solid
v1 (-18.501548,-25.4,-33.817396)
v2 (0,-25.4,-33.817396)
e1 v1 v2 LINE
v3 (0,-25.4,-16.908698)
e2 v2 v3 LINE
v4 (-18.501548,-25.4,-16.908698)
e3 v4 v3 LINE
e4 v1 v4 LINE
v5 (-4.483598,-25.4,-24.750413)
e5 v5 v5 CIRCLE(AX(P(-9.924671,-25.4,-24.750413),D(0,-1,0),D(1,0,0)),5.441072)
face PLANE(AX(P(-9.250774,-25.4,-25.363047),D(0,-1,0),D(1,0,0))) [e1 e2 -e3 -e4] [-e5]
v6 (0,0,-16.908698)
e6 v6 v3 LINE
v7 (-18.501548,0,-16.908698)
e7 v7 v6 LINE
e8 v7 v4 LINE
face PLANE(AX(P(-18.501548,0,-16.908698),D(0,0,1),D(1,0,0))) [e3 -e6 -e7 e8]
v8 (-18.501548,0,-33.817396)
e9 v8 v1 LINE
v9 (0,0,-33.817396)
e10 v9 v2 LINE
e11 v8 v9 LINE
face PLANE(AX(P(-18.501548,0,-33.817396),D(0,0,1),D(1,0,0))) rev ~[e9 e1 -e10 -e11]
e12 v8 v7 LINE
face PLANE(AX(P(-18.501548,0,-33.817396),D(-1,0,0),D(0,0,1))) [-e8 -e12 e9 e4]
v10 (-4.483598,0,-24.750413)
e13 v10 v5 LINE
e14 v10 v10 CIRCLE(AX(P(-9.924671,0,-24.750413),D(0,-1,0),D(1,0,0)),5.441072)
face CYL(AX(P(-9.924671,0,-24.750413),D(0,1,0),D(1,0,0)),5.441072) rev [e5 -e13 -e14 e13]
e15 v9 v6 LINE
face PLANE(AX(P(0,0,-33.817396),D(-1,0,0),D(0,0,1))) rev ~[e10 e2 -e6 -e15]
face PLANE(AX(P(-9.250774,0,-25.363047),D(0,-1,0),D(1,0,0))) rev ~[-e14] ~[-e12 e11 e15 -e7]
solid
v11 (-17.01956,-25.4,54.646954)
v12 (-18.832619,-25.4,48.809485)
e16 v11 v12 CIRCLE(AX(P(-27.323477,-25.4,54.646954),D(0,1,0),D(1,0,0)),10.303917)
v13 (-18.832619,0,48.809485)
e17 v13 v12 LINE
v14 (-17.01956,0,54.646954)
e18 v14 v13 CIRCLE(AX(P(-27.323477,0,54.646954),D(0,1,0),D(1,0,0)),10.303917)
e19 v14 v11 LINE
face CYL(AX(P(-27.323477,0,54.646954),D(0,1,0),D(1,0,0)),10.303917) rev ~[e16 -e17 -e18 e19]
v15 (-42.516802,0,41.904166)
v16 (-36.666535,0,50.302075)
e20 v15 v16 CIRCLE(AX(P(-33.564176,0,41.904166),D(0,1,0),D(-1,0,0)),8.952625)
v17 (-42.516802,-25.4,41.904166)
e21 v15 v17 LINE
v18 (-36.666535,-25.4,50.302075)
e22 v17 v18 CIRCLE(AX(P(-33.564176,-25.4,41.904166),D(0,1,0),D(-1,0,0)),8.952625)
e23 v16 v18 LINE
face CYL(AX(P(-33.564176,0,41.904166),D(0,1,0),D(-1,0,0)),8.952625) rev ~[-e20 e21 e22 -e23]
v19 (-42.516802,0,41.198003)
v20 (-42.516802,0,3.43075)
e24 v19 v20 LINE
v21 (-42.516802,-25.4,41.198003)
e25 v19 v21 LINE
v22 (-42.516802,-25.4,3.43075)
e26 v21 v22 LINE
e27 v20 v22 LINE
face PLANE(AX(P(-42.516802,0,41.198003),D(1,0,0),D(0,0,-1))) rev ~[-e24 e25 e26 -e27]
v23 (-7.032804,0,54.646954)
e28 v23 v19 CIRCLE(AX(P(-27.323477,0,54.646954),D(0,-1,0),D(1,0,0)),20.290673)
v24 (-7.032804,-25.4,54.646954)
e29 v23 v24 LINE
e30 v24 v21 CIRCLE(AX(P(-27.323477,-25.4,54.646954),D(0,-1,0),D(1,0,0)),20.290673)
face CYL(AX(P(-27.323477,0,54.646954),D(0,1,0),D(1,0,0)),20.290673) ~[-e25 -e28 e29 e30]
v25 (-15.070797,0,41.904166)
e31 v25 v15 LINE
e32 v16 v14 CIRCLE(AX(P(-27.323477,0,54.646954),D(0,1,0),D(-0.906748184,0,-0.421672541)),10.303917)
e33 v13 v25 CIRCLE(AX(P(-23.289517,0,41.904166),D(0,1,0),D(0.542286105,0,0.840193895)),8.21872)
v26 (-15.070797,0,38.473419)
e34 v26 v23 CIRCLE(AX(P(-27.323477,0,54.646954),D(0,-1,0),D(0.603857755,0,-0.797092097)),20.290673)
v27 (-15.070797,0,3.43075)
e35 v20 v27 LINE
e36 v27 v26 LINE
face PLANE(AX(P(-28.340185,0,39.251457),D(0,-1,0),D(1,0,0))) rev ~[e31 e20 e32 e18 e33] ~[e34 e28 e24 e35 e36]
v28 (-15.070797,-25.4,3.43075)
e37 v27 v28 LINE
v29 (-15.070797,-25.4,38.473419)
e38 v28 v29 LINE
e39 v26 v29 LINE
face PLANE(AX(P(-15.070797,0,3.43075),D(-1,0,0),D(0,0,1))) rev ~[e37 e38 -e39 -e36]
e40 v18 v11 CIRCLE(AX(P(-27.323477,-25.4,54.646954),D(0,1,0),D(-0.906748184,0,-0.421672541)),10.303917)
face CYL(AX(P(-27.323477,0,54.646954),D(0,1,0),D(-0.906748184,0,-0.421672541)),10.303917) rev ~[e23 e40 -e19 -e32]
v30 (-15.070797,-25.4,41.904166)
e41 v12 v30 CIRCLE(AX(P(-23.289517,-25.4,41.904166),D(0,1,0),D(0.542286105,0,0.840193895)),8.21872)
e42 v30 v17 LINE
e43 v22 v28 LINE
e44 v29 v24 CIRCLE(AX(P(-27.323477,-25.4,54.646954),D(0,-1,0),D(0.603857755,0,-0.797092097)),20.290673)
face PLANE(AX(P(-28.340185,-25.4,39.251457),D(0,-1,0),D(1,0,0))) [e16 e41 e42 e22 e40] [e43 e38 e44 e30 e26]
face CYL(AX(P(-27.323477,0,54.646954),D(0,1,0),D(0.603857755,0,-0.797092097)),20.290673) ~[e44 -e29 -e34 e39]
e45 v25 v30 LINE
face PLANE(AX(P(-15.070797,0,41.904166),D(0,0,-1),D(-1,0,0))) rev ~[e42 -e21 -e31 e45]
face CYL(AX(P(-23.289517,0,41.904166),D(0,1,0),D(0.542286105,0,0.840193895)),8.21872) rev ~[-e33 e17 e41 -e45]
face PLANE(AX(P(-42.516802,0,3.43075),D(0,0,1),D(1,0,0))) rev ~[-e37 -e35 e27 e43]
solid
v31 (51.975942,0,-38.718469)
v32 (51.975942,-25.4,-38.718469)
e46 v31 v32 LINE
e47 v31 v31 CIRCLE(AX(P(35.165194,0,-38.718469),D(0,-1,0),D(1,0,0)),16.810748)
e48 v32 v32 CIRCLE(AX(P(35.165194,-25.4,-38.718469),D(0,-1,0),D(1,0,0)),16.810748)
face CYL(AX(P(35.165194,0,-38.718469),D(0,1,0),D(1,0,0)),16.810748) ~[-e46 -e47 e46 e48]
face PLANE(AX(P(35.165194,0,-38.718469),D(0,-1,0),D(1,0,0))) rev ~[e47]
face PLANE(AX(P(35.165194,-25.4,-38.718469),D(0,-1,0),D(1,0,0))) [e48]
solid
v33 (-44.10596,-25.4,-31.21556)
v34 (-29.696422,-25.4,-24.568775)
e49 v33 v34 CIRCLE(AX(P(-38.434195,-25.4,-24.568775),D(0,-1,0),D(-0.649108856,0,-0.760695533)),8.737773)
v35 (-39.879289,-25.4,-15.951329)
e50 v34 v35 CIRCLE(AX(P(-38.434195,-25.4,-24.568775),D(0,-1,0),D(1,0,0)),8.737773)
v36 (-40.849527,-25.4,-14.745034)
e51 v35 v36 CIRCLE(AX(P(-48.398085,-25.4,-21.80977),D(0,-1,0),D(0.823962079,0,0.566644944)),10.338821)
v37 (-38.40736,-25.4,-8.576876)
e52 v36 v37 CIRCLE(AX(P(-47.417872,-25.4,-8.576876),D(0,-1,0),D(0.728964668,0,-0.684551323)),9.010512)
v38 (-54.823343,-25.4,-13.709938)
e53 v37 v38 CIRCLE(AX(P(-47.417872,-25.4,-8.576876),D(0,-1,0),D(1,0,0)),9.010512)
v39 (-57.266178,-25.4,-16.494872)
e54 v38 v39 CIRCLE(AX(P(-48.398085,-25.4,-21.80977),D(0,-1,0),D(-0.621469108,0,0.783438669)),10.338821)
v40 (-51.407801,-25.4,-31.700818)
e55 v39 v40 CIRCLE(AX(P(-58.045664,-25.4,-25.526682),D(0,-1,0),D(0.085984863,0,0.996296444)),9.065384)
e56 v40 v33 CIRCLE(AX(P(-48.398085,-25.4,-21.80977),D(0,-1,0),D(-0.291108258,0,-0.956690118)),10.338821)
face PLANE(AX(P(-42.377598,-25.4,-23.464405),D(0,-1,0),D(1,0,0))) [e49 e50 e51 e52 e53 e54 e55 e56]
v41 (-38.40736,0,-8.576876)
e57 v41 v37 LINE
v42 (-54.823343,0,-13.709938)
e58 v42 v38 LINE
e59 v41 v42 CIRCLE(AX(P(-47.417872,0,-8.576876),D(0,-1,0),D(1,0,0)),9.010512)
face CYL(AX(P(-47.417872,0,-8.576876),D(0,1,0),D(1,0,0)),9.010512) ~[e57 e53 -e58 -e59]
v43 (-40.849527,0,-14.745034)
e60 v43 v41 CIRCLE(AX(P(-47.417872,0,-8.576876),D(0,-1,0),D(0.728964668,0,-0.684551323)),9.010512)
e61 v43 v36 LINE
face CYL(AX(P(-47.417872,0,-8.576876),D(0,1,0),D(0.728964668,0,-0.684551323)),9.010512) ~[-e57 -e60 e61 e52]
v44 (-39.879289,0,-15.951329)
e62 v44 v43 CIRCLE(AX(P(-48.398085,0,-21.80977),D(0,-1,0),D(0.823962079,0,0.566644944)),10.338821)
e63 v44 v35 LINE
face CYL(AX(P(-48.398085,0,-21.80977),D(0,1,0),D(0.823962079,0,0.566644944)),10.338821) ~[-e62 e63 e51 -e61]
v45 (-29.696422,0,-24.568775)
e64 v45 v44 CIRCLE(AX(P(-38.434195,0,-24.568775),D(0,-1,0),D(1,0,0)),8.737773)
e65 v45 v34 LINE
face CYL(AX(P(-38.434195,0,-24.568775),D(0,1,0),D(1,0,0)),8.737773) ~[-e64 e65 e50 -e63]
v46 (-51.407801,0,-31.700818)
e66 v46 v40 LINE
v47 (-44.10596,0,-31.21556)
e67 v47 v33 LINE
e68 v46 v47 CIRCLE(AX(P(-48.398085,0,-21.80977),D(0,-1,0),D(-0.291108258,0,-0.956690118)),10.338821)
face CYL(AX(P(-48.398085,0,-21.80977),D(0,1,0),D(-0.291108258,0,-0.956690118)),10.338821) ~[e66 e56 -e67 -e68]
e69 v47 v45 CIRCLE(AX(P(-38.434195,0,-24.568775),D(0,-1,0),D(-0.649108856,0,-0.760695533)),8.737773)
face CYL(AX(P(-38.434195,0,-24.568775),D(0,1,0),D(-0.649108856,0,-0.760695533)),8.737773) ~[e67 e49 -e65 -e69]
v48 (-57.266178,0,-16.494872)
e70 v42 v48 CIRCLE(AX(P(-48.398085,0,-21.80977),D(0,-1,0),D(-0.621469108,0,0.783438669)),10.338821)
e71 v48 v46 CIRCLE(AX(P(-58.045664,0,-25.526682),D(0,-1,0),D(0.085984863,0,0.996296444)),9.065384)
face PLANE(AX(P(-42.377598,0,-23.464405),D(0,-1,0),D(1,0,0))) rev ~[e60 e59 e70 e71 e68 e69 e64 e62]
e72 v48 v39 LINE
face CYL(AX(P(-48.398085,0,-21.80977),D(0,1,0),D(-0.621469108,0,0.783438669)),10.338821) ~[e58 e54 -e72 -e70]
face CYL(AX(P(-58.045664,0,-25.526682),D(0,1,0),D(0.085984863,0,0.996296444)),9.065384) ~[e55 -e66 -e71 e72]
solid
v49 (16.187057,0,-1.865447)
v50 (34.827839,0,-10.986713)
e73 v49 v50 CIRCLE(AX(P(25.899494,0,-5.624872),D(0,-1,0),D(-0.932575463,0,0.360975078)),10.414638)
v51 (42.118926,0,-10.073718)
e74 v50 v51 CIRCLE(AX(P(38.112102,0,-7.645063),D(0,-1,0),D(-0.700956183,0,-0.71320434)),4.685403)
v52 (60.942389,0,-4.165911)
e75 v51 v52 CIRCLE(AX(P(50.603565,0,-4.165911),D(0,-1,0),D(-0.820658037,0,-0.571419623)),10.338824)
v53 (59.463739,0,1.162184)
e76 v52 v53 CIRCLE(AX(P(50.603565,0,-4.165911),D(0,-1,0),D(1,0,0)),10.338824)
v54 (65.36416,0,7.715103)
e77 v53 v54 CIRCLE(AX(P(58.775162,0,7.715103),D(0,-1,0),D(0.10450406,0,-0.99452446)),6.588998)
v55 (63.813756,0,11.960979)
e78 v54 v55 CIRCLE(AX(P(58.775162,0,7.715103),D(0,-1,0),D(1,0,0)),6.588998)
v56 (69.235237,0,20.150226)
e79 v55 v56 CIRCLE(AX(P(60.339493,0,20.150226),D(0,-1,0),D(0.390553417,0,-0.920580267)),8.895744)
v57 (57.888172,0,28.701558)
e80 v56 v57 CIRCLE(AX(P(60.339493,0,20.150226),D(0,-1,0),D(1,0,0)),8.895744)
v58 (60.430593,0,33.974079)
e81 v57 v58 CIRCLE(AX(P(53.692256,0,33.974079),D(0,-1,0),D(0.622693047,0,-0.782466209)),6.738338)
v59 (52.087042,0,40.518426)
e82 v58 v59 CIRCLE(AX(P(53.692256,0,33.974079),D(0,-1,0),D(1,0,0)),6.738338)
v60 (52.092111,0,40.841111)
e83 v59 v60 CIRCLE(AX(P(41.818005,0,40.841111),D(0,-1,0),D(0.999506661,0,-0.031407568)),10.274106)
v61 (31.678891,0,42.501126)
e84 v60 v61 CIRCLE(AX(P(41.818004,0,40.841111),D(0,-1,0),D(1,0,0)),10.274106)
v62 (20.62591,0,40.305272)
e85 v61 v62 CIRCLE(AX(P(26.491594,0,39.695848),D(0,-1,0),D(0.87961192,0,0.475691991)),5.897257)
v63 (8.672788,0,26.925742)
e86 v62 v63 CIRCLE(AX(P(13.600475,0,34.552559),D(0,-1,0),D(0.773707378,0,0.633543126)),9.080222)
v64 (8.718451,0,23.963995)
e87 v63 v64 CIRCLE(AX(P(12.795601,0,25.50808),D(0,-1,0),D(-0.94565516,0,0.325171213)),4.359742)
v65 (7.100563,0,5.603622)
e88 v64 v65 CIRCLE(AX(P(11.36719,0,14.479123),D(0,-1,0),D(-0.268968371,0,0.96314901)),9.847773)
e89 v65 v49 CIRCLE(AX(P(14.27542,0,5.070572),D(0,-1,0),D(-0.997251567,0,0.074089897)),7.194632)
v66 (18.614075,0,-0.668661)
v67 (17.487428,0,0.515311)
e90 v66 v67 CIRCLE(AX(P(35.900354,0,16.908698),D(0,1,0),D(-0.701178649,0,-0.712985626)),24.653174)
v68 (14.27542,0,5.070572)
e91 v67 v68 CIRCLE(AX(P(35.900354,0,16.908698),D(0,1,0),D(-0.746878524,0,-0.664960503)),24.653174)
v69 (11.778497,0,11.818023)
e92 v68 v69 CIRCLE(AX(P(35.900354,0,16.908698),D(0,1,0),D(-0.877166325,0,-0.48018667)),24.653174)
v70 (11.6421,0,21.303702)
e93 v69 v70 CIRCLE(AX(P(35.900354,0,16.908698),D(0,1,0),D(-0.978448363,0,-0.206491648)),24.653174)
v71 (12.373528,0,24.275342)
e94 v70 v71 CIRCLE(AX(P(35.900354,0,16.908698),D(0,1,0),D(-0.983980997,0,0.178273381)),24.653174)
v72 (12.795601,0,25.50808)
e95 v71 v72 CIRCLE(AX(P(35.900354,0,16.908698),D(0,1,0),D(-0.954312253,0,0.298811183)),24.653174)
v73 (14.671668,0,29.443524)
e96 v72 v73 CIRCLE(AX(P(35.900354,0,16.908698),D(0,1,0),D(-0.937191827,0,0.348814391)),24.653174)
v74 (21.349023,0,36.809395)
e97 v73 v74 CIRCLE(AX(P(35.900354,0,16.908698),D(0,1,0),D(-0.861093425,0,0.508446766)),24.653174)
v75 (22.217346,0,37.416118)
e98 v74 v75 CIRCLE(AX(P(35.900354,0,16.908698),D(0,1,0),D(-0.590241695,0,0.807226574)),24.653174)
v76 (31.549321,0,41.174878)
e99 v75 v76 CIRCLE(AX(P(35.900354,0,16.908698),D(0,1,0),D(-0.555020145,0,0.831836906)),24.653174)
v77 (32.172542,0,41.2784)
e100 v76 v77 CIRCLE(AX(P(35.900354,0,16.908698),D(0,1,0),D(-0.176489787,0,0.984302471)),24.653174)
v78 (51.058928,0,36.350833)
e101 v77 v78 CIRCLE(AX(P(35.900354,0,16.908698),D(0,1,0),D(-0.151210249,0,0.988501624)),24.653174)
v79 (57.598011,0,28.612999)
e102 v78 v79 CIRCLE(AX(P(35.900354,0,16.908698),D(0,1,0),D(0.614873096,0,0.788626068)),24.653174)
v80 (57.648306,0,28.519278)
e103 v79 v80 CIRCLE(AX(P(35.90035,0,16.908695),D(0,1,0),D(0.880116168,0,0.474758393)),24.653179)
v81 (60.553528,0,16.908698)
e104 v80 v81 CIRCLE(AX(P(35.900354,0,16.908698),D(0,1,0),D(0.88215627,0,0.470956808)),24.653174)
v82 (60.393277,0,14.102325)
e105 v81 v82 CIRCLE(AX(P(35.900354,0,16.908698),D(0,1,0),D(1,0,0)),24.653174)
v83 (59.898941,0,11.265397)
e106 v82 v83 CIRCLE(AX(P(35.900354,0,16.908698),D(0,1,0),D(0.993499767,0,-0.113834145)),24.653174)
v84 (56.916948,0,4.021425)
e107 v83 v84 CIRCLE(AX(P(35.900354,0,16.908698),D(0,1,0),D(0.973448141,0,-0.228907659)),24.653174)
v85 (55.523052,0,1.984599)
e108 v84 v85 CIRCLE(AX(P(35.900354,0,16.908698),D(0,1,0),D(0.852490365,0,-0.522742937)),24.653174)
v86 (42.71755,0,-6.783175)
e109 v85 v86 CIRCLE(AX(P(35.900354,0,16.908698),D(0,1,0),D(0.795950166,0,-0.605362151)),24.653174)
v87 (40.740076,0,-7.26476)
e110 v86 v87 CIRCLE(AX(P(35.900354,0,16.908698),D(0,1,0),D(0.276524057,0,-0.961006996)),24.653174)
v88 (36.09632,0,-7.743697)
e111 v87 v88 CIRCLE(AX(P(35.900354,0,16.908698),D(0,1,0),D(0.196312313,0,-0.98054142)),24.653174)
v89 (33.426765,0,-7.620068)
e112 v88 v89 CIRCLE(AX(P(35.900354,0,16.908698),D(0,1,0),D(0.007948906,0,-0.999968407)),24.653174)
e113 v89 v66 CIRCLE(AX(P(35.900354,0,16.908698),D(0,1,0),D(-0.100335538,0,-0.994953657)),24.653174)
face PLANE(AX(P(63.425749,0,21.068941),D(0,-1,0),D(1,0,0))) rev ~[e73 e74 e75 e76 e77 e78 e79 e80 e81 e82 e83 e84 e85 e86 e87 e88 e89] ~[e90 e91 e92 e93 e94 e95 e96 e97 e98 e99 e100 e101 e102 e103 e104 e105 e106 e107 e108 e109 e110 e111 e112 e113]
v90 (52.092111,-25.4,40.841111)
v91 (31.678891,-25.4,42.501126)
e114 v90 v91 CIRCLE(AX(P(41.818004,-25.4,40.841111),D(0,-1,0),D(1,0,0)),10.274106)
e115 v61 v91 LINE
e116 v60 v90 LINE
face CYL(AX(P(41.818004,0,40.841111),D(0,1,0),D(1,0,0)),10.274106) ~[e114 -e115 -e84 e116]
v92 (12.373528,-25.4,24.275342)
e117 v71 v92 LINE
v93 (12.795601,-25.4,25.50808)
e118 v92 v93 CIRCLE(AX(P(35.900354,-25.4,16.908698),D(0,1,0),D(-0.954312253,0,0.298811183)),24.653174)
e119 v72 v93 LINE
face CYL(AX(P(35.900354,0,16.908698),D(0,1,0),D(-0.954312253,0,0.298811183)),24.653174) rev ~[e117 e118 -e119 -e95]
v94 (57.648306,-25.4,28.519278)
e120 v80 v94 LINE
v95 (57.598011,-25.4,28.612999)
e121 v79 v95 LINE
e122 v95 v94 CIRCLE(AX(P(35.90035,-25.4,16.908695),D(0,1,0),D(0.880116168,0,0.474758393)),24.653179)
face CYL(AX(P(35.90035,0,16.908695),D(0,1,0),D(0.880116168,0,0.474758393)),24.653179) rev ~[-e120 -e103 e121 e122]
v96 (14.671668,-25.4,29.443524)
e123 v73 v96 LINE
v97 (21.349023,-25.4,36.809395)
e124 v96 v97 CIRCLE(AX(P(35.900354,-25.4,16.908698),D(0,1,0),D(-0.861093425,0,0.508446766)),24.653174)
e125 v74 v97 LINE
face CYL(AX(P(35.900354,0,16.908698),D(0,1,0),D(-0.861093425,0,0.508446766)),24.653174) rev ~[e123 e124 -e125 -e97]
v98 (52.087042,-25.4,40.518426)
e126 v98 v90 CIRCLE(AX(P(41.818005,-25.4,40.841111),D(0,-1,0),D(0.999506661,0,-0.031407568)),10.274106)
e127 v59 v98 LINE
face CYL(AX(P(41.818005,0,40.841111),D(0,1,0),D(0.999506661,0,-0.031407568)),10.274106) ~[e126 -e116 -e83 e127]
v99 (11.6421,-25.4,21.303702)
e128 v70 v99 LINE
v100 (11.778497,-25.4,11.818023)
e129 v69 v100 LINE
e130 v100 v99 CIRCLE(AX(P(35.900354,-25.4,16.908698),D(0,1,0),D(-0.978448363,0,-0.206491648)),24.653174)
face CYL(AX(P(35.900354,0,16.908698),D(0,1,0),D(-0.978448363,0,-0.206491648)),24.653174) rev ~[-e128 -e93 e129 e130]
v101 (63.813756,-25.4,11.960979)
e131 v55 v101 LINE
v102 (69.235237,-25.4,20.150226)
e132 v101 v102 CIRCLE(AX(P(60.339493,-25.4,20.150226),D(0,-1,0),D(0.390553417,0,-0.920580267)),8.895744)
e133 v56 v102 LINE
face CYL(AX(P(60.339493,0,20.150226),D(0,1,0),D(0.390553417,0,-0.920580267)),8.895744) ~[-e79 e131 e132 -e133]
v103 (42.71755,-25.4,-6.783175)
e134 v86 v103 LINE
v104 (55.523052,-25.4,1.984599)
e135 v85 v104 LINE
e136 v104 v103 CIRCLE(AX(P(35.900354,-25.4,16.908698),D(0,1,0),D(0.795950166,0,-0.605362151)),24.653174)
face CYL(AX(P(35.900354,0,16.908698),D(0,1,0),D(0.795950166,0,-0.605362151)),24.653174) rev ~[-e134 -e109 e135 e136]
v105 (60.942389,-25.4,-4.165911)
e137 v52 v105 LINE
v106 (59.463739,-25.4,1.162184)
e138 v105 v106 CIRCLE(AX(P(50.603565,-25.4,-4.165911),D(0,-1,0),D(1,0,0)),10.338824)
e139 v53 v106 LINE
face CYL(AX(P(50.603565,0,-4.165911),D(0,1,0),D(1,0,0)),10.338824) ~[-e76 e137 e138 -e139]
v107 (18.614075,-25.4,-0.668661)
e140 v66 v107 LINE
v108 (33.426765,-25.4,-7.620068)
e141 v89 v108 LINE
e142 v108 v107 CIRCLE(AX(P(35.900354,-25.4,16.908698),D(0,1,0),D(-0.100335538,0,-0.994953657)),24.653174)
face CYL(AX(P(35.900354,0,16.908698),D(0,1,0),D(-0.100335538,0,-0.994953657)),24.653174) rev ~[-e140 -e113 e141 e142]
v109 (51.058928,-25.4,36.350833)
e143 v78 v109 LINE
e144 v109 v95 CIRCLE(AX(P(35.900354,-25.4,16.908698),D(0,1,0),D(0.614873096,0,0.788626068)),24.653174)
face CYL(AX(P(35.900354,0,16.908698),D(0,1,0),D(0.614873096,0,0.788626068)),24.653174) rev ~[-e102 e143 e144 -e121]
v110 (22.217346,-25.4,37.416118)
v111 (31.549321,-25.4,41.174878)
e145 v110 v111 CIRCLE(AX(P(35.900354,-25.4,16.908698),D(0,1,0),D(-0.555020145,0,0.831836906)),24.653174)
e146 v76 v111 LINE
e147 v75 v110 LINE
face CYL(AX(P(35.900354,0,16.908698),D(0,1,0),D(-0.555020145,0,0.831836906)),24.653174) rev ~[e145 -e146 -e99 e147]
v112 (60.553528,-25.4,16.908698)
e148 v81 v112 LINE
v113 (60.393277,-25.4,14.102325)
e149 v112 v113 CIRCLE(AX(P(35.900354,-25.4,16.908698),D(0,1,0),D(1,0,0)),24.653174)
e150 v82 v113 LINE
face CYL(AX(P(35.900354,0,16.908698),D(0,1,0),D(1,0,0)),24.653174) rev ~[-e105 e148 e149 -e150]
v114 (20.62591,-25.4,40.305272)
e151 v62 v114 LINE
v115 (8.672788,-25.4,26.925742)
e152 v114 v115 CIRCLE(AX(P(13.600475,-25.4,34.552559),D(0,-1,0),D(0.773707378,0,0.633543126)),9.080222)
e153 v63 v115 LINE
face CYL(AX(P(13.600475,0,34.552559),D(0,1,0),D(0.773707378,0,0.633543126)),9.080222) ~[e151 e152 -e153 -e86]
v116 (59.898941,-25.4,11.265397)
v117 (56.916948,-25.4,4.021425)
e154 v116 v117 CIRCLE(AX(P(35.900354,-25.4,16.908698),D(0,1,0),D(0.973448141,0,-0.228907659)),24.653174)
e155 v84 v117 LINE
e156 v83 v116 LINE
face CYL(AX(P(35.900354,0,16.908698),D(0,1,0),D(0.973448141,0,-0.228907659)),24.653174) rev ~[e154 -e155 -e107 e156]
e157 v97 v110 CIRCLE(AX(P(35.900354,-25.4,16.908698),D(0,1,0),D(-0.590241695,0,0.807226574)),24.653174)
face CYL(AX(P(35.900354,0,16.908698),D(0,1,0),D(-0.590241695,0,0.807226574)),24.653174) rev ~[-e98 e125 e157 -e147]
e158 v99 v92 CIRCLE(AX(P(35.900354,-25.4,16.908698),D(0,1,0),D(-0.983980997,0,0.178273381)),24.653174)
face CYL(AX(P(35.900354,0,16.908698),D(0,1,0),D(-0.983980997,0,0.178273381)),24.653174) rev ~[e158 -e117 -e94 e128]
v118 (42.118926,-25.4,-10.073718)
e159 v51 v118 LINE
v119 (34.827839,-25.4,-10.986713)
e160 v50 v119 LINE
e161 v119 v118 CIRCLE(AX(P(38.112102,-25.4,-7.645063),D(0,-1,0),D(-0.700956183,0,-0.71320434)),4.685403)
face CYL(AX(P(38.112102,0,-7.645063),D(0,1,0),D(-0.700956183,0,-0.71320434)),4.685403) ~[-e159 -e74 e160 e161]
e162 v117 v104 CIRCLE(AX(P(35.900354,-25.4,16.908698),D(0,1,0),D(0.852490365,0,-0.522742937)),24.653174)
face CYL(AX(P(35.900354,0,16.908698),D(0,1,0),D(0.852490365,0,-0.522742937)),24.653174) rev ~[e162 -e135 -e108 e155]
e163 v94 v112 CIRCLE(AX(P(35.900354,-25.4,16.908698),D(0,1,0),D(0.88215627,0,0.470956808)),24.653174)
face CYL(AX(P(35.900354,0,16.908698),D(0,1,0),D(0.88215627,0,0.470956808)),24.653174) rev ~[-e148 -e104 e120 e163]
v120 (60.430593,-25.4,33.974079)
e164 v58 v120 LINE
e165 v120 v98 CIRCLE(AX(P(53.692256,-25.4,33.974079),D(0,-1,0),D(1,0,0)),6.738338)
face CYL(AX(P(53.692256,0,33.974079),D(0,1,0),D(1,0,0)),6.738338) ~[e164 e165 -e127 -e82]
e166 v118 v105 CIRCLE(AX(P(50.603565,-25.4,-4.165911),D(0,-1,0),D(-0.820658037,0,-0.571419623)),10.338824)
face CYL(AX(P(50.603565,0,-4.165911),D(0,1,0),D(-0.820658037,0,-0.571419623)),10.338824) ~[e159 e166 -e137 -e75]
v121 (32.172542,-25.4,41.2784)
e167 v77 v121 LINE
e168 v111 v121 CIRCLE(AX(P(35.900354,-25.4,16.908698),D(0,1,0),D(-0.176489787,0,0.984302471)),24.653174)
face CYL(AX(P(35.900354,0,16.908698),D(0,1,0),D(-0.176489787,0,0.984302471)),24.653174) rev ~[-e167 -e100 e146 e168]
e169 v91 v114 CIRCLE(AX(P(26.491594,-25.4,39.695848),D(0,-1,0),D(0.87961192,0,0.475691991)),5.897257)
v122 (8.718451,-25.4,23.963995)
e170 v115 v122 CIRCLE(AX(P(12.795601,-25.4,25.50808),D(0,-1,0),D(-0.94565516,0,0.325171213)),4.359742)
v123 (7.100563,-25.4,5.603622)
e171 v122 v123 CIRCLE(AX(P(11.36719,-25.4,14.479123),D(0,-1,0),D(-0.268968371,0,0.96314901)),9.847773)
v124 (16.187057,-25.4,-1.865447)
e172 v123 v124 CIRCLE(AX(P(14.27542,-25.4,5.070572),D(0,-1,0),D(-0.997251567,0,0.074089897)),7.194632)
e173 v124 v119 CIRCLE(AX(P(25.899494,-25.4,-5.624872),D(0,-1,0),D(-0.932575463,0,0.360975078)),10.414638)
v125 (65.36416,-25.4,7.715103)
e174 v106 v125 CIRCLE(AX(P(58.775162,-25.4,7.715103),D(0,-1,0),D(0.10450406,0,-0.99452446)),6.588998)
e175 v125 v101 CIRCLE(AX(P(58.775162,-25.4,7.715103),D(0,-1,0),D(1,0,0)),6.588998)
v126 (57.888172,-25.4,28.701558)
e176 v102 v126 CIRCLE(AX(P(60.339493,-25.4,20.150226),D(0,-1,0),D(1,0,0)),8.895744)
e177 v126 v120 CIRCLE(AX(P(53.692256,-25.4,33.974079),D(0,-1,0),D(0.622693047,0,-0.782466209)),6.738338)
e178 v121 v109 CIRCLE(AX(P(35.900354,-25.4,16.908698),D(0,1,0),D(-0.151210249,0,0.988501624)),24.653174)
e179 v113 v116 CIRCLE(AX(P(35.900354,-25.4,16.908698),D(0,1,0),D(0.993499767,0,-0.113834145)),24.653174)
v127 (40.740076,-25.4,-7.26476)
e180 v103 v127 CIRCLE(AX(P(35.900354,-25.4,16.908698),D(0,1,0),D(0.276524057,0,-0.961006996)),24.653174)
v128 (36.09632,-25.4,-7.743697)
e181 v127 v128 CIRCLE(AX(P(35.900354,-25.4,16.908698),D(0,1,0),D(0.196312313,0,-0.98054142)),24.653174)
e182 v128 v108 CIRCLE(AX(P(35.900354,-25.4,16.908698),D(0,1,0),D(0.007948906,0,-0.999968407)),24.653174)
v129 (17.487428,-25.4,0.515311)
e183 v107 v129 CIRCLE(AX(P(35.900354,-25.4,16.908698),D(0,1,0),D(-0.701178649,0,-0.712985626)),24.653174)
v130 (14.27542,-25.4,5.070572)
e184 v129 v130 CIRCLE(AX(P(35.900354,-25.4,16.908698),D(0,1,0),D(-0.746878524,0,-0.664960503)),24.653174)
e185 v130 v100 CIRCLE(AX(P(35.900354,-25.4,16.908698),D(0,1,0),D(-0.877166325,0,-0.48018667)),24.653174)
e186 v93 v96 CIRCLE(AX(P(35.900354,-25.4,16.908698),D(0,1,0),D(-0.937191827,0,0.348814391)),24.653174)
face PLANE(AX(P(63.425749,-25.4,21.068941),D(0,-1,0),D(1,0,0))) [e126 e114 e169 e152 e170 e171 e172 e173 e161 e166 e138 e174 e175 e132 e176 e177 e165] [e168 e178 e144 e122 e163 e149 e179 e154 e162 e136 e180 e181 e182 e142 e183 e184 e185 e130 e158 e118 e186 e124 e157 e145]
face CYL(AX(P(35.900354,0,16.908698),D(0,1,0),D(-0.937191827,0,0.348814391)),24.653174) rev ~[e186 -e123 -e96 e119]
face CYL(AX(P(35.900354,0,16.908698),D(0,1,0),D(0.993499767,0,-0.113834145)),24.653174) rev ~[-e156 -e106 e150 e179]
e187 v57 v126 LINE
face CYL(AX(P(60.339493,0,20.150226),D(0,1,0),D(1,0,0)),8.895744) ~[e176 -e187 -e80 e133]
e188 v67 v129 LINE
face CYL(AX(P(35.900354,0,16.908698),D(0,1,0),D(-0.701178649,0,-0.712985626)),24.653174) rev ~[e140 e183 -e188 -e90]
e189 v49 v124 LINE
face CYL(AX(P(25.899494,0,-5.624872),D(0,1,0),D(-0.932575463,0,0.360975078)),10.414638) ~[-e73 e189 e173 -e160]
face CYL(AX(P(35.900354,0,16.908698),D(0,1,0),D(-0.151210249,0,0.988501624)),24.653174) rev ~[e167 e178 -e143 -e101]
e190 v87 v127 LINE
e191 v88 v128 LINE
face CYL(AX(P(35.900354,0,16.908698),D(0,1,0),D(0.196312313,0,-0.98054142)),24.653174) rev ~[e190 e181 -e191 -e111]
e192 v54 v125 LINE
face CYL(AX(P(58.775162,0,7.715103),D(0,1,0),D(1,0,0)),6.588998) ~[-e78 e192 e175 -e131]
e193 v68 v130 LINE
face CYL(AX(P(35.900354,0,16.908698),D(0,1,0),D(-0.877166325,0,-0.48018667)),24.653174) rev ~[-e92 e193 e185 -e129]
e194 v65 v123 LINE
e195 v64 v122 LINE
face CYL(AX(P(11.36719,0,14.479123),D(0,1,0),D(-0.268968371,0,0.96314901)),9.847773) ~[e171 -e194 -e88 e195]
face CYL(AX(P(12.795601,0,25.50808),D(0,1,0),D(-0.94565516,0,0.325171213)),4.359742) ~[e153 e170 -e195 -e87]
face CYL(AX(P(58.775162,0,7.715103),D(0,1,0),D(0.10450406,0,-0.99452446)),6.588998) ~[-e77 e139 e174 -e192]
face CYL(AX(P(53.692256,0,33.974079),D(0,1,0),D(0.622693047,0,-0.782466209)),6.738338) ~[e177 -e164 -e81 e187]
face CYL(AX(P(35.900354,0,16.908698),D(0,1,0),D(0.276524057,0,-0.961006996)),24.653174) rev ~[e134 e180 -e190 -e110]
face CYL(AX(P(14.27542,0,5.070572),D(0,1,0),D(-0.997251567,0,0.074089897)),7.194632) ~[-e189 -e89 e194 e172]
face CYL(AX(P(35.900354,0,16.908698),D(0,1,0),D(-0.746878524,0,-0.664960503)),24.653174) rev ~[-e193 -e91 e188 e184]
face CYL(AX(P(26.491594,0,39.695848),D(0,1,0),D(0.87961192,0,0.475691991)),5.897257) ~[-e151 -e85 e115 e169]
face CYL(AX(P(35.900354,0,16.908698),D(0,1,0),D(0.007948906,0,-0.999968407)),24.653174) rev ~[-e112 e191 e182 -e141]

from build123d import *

# Parameters (mm, degrees)
F1_DEPTH = 25.4
F0_W     = 18.5015480965
F0_H     = 16.9086977839
F0_R     = 5.4410723948
F0_R_2   = 16.8107477908


with BuildPart() as f1:
    # F0 (on Front) → F1 (new body)
    with BuildSketch(Plane.XZ):
        with BuildLine():
            ThreePointArc((-44.105960391, -31.2155596656), (-39.701340636, -27.4006422459), (-38.0592641048, -21.8097697943))
            ThreePointArc((-38.0592641048, -21.8097697943), (-38.5247490039, -18.7424495054), (-39.8792886329, -15.9513292394))
            ThreePointArc((-39.8792886329, -15.9513292394), (-46.8550976629, -22.2370236132), (-44.105960391, -31.2155596656))
        make_face()
        with BuildLine():
            ThreePointArc((-39.8792886329, -15.9513292394), (-38.5247490039, -18.7424495054), (-38.0592641048, -21.8097697943))
            ThreePointArc((-38.0592641048, -21.8097697943), (-39.701340636, -27.4006422459), (-44.105960391, -31.2155596656))
            ThreePointArc((-44.105960391, -31.2155596656), (-34.7742718917, -32.5031076851), (-29.6964222745, -24.5687751098))
            ThreePointArc((-29.6964222745, -24.5687751098), (-32.7896501946, -17.8988586822), (-39.8792886329, -15.9513292394))
        make_face()
        with BuildLine():
            ThreePointArc((-44.105960391, -31.2155596656), (-46.8550976629, -22.2370236132), (-39.8792886329, -15.9513292394))
            ThreePointArc((-39.8792886329, -15.9513292394), (-40.3417982851, -15.3299965274), (-40.8495270544, -14.7450341232))
            ThreePointArc((-40.8495270544, -14.7450341232), (-48.083492635, -17.5627692138), (-54.8233426971, -13.709937761))
            ThreePointArc((-54.8233426971, -13.709937761), (-56.1705113302, -14.9921012619), (-57.2661782927, -16.4948721947))
            ThreePointArc((-57.2661782927, -16.4948721947), (-51.3655623816, -19.3982706429), (-48.9802804829, -25.5266816069))
            ThreePointArc((-48.9802804829, -25.5266816069), (-49.6089599176, -28.8437891732), (-51.4078010658, -31.7008175177))
            ThreePointArc((-51.4078010658, -31.7008175177), (-47.7125109929, -32.1258351585), (-44.105960391, -31.2155596656))
        make_face()
        with BuildLine():
            ThreePointArc((-54.8233426971, -13.709937761), (-48.083492635, -17.5627692138), (-40.8495270544, -14.7450341232))
            ThreePointArc((-40.8495270544, -14.7450341232), (-47.6343396192, -11.4991970983), (-54.8233426971, -13.709937761))
        make_face()
        with BuildLine():
            ThreePointArc((-54.8233426971, -13.709937761), (-47.6343396192, -11.4991970983), (-40.8495270544, -14.7450341232))
            ThreePointArc((-40.8495270544, -14.7450341232), (-39.0401194284, -11.8938912699), (-38.4073600457, -8.5768764839))
            ThreePointArc((-38.4073600457, -8.5768764839), (-50.1069455323, 0.0230189296), (-54.8233426971, -13.709937761))
        make_face()
        with BuildLine():
            ThreePointArc((-57.2661782927, -16.4948721947), (-66.5049464666, -28.7857797019), (-51.4078010658, -31.7008175177))
            ThreePointArc((-51.4078010658, -31.7008175177), (-58.0456640551, -25.5266816069), (-57.2661782927, -16.4948721947))
        make_face()
        with BuildLine():
            ThreePointArc((-57.2661782927, -16.4948721947), (-58.0456640551, -25.5266816069), (-51.4078010658, -31.7008175177))
            ThreePointArc((-51.4078010658, -31.7008175177), (-49.6089599176, -28.8437891732), (-48.9802804829, -25.5266816069))
            ThreePointArc((-48.9802804829, -25.5266816069), (-51.3655623816, -19.3982706429), (-57.2661782927, -16.4948721947))
        make_face()
    extrude(amount=F1_DEPTH)


with BuildPart() as f1b:
    # F0 (on Front) → F1, piece 2 (new body)
    with BuildSketch(Plane.XZ):
        with BuildLine():
            Line((-15.0707969442, 41.9041663408), (-42.5168015063, 41.9041663408))
            Line((-42.5168015063, 41.9041663408), (-42.5168015063, 41.1980028544))
            ThreePointArc((-42.5168015063, 41.1980028544), (-29.3278937528, 34.4555273158), (-15.0707969442, 38.4734191396))
            Line((-15.0707969442, 38.4734191396), (-15.0707969442, 41.9041663408))
        make_face()
        with BuildLine():
            Line((-42.5168015063, 41.1980028544), (-42.5168015063, 41.9041663408))
            ThreePointArc((-42.5168015063, 41.9041663408), (-40.910051081, 47.0215506819), (-36.6665349653, 50.3020750911))
            ThreePointArc((-36.6665349653, 50.3020750911), (-29.5484051816, 64.7077888644), (-17.0195600007, 54.6469539404))
            ThreePointArc((-17.0195600007, 54.6469539404), (-17.4832585843, 51.5906805508), (-18.8326194536, 48.809485007))
            ThreePointArc((-18.8326194536, 48.809485007), (-16.0722684703, 45.8359195908), (-15.0707969442, 41.9041663408))
            Line((-15.0707969442, 41.9041663408), (-15.0707969442, 38.4734191396))
            ThreePointArc((-15.0707969442, 38.4734191396), (-9.1530818862, 45.6165531595), (-7.0328043403, 54.6469539404))
            ThreePointArc((-7.0328043403, 54.6469539404), (-34.5147432513, 73.6205430855), (-42.5168015063, 41.1980028544))
        make_face()
        with BuildLine():
            ThreePointArc((-15.0707969442, 38.4734191396), (-29.3278937528, 34.4555273158), (-42.5168015063, 41.1980028544))
            Line((-42.5168015063, 41.1980028544), (-42.5168015063, 3.4307504538))
            Line((-42.5168015063, 3.4307504538), (-15.0707969442, 3.4307504538))
            Line((-15.0707969442, 3.4307504538), (-15.0707969442, 38.4734191396))
        make_face()
    extrude(amount=F1_DEPTH)


with BuildPart() as f1c:
    # F0 (on Front) → F1, piece 3 (new body)
    with BuildSketch(Plane.XZ):
        with BuildLine():
            ThreePointArc((57.6483064262, 28.5192779382), (59.8161967898, 22.8929664588), (60.55352841, 16.9086977839))
            ThreePointArc((60.55352841, 16.9086977839), (60.5134329623, 15.5032254597), (60.3932770401, 14.1023248017))
            ThreePointArc((60.3932770401, 14.1023248017), (62.2714862871, 13.2999587282), (63.8137559237, 11.9609793934))
            ThreePointArc((63.8137559237, 11.9609793934), (67.7570534198, 15.2396195477), (69.2352365393, 20.1502255256))
            ThreePointArc((69.2352365393, 20.1502255256), (65.6933667008, 27.2544700874), (57.8881716099, 28.7015576243))
            ThreePointArc((57.8881716099, 28.7015576243), (57.7692578437, 28.6090770898), (57.6483064262, 28.5192779382))
        make_face()
        with BuildLine():
            ThreePointArc((57.5980114218, 28.612999071), (57.6232094679, 28.5661656287), (57.6483064262, 28.5192779382))
            ThreePointArc((57.6483064262, 28.5192779382), (57.7692578437, 28.6090770898), (57.8881716099, 28.7015576243))
            ThreePointArc((57.8881716099, 28.7015576243), (57.7427139718, 28.6585153627), (57.5980114218, 28.612999071))
        make_face()
        with BuildLine():
            ThreePointArc((63.8137559237, 11.9609793934), (62.2714862871, 13.2999587282), (60.3932770401, 14.1023248017))
            ThreePointArc((60.3932770401, 14.1023248017), (60.1875660933, 12.6766371815), (59.898940815, 11.2653974313))
            ThreePointArc((59.898940815, 11.2653974313), (61.8957091687, 11.3916613164), (63.8137559237, 11.9609793934))
        make_face()
        with BuildLine():
            ThreePointArc((51.0589278362, 36.35083348), (54.7302229927, 32.8214297216), (57.5980114218, 28.612999071))
            ThreePointArc((57.5980114218, 28.612999071), (57.7427139718, 28.6585153627), (57.8881716099, 28.7015576243))
            ThreePointArc((57.8881716099, 28.7015576243), (59.7617981113, 31.0473321559), (60.4305932211, 33.9740790737))
            ThreePointArc((60.4305932211, 33.9740790737), (57.8509045854, 39.2760440121), (52.0870420266, 40.5184264284))
            ThreePointArc((52.0870420266, 40.5184264284), (51.7930659491, 38.3803376037), (51.0589278362, 36.35083348))
        make_face()
        with BuildLine():
            ThreePointArc((63.8137559237, 11.9609793934), (61.8957091687, 11.3916613164), (59.898940815, 11.2653974313))
            ThreePointArc((59.898940815, 11.2653974313), (58.6975117824, 7.5242103658), (56.9169477045, 4.0214251963))
            ThreePointArc((56.9169477045, 4.0214251963), (58.323864183, 2.7107346584), (59.4637388064, 1.1621838822))
            ThreePointArc((59.4637388064, 1.1621838822), (63.6716873797, 3.3061432275), (65.3641596788, 7.7151034662))
            ThreePointArc((65.3641596788, 7.7151034662), (64.9644339318, 9.9751484986), (63.8137559237, 11.9609793934))
        make_face()
        with BuildLine():
            ThreePointArc((48.4070297685, 38.1539810334), (49.7623287591, 37.2955723838), (51.0589278362, 36.35083348))
            ThreePointArc((51.0589278362, 36.35083348), (51.7930659491, 38.3803376037), (52.0870420266, 40.5184264284))
            ThreePointArc((52.0870420266, 40.5184264284), (50.0498402913, 39.6431180923), (48.4070297685, 38.1539810334))
        make_face()
        with BuildLine():
            ThreePointArc((59.4637388064, 1.1621838822), (58.323864183, 2.7107346584), (56.9169477045, 4.0214251963))
            ThreePointArc((56.9169477045, 4.0214251963), (56.2455052486, 2.9855578421), (55.5230523371, 1.9845993326))
            ThreePointArc((55.5230523371, 1.9845993326), (57.4290501922, 1.26507424), (59.4637388064, 1.1621838822))
        make_face()
        with BuildLine():
            ThreePointArc((32.1725417924, 41.2784003418), (40.5594966858, 41.1176090051), (48.4070297685, 38.1539810334))
            ThreePointArc((48.4070297685, 38.1539810334), (50.0498402913, 39.6431180923), (52.0870420266, 40.5184264284))
            ThreePointArc((52.0870420266, 40.5184264284), (52.0908434142, 40.6797488704), (52.0921106476, 40.841111118))
            ThreePointArc((52.0921106476, 40.841111118), (42.6507517291, 51.0814134273), (31.6788914945, 42.5011259843))
            ThreePointArc((31.6788914945, 42.5011259843), (31.9599990129, 41.9036039637), (32.1725417924, 41.2784003418))
        make_face()
        with BuildLine():
            ThreePointArc((59.4637388064, 1.1621838822), (57.4290501922, 1.26507424), (55.5230523371, 1.9845993326))
            ThreePointArc((55.5230523371, 1.9845993326), (49.8282207146, -3.4332177847), (42.7175500908, -6.7831749196))
            ThreePointArc((42.7175500908, -6.7831749196), (42.7774735859, -7.2122685718), (42.7975051785, -7.6450628912))
            ThreePointArc((42.7975051785, -7.6450628912), (42.6246726898, -8.9058994461), (42.1189259159, -10.0737179628))
            ThreePointArc((42.1189259159, -10.0737179628), (53.699537359, -14.0303033075), (60.9423887087, -4.1659111157))
            ThreePointArc((60.9423887087, -4.1659111157), (60.5658702226, -1.4011777723), (59.4637388064, 1.1621838822))
        make_face()
        with BuildLine():
            ThreePointArc((31.5493209593, 41.1748779039), (31.860599755, 41.2286355309), (32.1725417924, 41.2784003418))
            ThreePointArc((32.1725417924, 41.2784003418), (31.9599990129, 41.9036039637), (31.6788914945, 42.5011259843))
            ThreePointArc((31.6788914945, 42.5011259843), (31.5925816009, 41.8401048367), (31.5493209593, 41.1748779039))
        make_face()
        with BuildLine():
            ThreePointArc((22.2173461598, 37.416117792), (26.6895599589, 39.7765847769), (31.5493209593, 41.1748779039))
            ThreePointArc((31.5493209593, 41.1748779039), (31.5925816009, 41.8401048367), (31.6788914945, 42.5011259843))
            ThreePointArc((31.6788914945, 42.5011259843), (25.3424653448, 45.4800632646), (20.6259099925, 40.3052715511))
            ThreePointArc((20.6259099925, 40.3052715511), (21.5539168866, 38.9335634819), (22.2173461598, 37.416117792))
        make_face()
        with BuildLine():
            ThreePointArc((42.7975051785, -7.6450628912), (42.7774735859, -7.2122685718), (42.7175500908, -6.7831749196))
            ThreePointArc((42.7175500908, -6.7831749196), (41.7337848952, -7.0443829777), (40.740076, -7.2647604747))
            ThreePointArc((40.740076, -7.2647604747), (41.3226161462, -8.7217064114), (42.1189259159, -10.0737179628))
            ThreePointArc((42.1189259159, -10.0737179628), (42.6246726898, -8.9058994461), (42.7975051785, -7.6450628912))
        make_face()
        with BuildLine():
            ThreePointArc((42.1189259159, -10.0737179628), (41.3226161462, -8.7217064114), (40.740076, -7.2647604747))
            ThreePointArc((40.740076, -7.2647604747), (38.4295601819, -7.6143955676), (36.0963201413, -7.7436973717))
            ThreePointArc((36.0963201413, -7.7436973717), (35.5985832283, -9.4185975159), (34.8278391678, -10.9867129837))
            ThreePointArc((34.8278391678, -10.9867129837), (38.6942647568, -12.294158708), (42.1189259159, -10.0737179628))
        make_face()
        with BuildLine():
            ThreePointArc((21.3490231548, 36.8093949804), (21.7799255932, 37.1174206583), (22.2173461598, 37.416117792))
            ThreePointArc((22.2173461598, 37.416117792), (21.5539168866, 38.9335634819), (20.6259099925, 40.3052715511))
            ThreePointArc((20.6259099925, 40.3052715511), (20.7165868902, 38.5013024934), (21.3490231548, 36.8093949804))
        make_face()
        with BuildLine():
            ThreePointArc((14.6716683333, 29.4435243879), (17.6351847562, 33.4665529562), (21.3490231548, 36.8093949804))
            ThreePointArc((21.3490231548, 36.8093949804), (20.7165868902, 38.5013024934), (20.6259099925, 40.3052715511))
            ThreePointArc((20.6259099925, 40.3052715511), (6.8289843993, 40.6021333201), (8.6727883362, 26.9257423569))
            ThreePointArc((8.6727883362, 26.9257423569), (11.1083628612, 29.528102056), (14.6716683333, 29.4435243879))
        make_face()
        with BuildLine():
            ThreePointArc((34.8278391678, -10.9867129837), (35.5985832283, -9.4185975159), (36.0963201413, -7.7436973717))
            ThreePointArc((36.0963201413, -7.7436973717), (34.7598660992, -7.7180818666), (33.4267648963, -7.6200678704))
            ThreePointArc((33.4267648963, -7.6200678704), (33.7863412788, -9.4452857926), (34.8278391678, -10.9867129837))
        make_face()
        with BuildLine():
            ThreePointArc((34.8278391678, -10.9867129837), (33.7863412788, -9.4452857926), (33.4267648963, -7.6200678704))
            ThreePointArc((33.4267648963, -7.6200678704), (25.4268822891, -5.409128538), (18.6140751372, -0.6686609267))
            ThreePointArc((18.6140751372, -0.6686609267), (17.4573398254, -1.3821877286), (16.1870574514, -1.8654472539))
            ThreePointArc((16.1870574514, -1.8654472539), (21.3220410847, -14.9796366957), (34.8278391678, -10.9867129837))
        make_face()
        with BuildLine():
            ThreePointArc((12.7956011744, 25.5080796541), (13.646469544, 27.517354577), (14.6716683333, 29.4435243879))
            ThreePointArc((14.6716683333, 29.4435243879), (11.1083628612, 29.528102056), (8.6727883362, 26.9257423569))
            ThreePointArc((8.6727883362, 26.9257423569), (10.6478483221, 25.9658003692), (12.7956011744, 25.5080796541))
        make_face()
        with BuildLine():
            ThreePointArc((16.1870574514, -1.8654472539), (16.7593955852, -0.6325480597), (17.4874281549, 0.5153107905))
            ThreePointArc((17.4874281549, 0.5153107905), (15.752273434, 2.7018746533), (14.2754203195, 5.070572251))
            ThreePointArc((14.2754203195, 5.070572251), (10.6375695456, 4.6584160514), (7.1005627378, 5.6036217581))
            ThreePointArc((7.1005627378, 5.6036217581), (9.7068187444, -0.4873592656), (16.1870574514, -1.8654472539))
        make_face()
        with BuildLine():
            ThreePointArc((18.6140751372, -0.6686609267), (18.0409376757, -0.0860138723), (17.4874281549, 0.5153107905))
            ThreePointArc((17.4874281549, 0.5153107905), (16.7593955852, -0.6325480597), (16.1870574514, -1.8654472539))
            ThreePointArc((16.1870574514, -1.8654472539), (17.4573398254, -1.3821877286), (18.6140751372, -0.6686609267))
        make_face()
        with BuildLine():
            ThreePointArc((12.7956011744, 25.5080796541), (10.6478483221, 25.9658003692), (8.6727883362, 26.9257423569))
            ThreePointArc((8.6727883362, 26.9257423569), (8.4363768899, 25.440871957), (8.7184506356, 23.963995226))
            ThreePointArc((8.7184506356, 23.963995226), (10.5313643758, 24.2913611104), (12.3735283305, 24.2753418823))
            ThreePointArc((12.3735283305, 24.2753418823), (12.5764191083, 24.8944997273), (12.7956011744, 25.5080796541))
        make_face()
        with BuildLine():
            ThreePointArc((7.1005627378, 5.6036217581), (10.6375695456, 4.6584160514), (14.2754203195, 5.070572251))
            ThreePointArc((14.2754203195, 5.070572251), (12.779492277, 8.3527218109), (11.7784966135, 11.8180232587))
            ThreePointArc((11.7784966135, 11.8180232587), (8.5273306523, 9.3974866565), (7.1005627378, 5.6036217581))
        make_face()
        with BuildLine():
            ThreePointArc((11.6420996411, 21.3037024767), (9.861453998, 22.2834659432), (8.7184506356, 23.963995226))
            ThreePointArc((8.7184506356, 23.963995226), (1.5574294353, 15.3435437789), (7.1005627378, 5.6036217581))
            ThreePointArc((7.1005627378, 5.6036217581), (8.5273306523, 9.3974866565), (11.7784966135, 11.8180232587))
            ThreePointArc((11.7784966135, 11.8180232587), (11.2497286463, 16.554240223), (11.6420996411, 21.3037024767))
        make_face()
        with BuildLine():
            ThreePointArc((12.3735283305, 24.2753418823), (10.5313643758, 24.2913611104), (8.7184506356, 23.963995226))
            ThreePointArc((8.7184506356, 23.963995226), (9.861453998, 22.2834659432), (11.6420996411, 21.3037024767))
            ThreePointArc((11.6420996411, 21.3037024767), (11.9616587874, 22.8008826549), (12.3735283305, 24.2753418823))
        make_face()
    extrude(amount=F1_DEPTH)


with BuildPart() as f1d:
    # F0 (on Front) → F1, piece 4 (new body)
    with BuildSketch(Plane.XZ):
        with Locations((-9.2507740483, -25.3630466759)):
            Rectangle(F0_W, F0_H)
        with Locations((-9.9246706814, -24.7504133731)):
            Circle(F0_R, mode=Mode.SUBTRACT)
    extrude(amount=F1_DEPTH)


with BuildPart() as f1e:
    # F0 (on Front) → F1, piece 5 (new body)
    with BuildSketch(Plane.XZ):
        with Locations((35.165194422, -38.7184694409)):
            Circle(F0_R_2)
    extrude(amount=F1_DEPTH)


solid = Compound([f1.part, f1b.part, f1c.part, f1d.part, f1e.part])
